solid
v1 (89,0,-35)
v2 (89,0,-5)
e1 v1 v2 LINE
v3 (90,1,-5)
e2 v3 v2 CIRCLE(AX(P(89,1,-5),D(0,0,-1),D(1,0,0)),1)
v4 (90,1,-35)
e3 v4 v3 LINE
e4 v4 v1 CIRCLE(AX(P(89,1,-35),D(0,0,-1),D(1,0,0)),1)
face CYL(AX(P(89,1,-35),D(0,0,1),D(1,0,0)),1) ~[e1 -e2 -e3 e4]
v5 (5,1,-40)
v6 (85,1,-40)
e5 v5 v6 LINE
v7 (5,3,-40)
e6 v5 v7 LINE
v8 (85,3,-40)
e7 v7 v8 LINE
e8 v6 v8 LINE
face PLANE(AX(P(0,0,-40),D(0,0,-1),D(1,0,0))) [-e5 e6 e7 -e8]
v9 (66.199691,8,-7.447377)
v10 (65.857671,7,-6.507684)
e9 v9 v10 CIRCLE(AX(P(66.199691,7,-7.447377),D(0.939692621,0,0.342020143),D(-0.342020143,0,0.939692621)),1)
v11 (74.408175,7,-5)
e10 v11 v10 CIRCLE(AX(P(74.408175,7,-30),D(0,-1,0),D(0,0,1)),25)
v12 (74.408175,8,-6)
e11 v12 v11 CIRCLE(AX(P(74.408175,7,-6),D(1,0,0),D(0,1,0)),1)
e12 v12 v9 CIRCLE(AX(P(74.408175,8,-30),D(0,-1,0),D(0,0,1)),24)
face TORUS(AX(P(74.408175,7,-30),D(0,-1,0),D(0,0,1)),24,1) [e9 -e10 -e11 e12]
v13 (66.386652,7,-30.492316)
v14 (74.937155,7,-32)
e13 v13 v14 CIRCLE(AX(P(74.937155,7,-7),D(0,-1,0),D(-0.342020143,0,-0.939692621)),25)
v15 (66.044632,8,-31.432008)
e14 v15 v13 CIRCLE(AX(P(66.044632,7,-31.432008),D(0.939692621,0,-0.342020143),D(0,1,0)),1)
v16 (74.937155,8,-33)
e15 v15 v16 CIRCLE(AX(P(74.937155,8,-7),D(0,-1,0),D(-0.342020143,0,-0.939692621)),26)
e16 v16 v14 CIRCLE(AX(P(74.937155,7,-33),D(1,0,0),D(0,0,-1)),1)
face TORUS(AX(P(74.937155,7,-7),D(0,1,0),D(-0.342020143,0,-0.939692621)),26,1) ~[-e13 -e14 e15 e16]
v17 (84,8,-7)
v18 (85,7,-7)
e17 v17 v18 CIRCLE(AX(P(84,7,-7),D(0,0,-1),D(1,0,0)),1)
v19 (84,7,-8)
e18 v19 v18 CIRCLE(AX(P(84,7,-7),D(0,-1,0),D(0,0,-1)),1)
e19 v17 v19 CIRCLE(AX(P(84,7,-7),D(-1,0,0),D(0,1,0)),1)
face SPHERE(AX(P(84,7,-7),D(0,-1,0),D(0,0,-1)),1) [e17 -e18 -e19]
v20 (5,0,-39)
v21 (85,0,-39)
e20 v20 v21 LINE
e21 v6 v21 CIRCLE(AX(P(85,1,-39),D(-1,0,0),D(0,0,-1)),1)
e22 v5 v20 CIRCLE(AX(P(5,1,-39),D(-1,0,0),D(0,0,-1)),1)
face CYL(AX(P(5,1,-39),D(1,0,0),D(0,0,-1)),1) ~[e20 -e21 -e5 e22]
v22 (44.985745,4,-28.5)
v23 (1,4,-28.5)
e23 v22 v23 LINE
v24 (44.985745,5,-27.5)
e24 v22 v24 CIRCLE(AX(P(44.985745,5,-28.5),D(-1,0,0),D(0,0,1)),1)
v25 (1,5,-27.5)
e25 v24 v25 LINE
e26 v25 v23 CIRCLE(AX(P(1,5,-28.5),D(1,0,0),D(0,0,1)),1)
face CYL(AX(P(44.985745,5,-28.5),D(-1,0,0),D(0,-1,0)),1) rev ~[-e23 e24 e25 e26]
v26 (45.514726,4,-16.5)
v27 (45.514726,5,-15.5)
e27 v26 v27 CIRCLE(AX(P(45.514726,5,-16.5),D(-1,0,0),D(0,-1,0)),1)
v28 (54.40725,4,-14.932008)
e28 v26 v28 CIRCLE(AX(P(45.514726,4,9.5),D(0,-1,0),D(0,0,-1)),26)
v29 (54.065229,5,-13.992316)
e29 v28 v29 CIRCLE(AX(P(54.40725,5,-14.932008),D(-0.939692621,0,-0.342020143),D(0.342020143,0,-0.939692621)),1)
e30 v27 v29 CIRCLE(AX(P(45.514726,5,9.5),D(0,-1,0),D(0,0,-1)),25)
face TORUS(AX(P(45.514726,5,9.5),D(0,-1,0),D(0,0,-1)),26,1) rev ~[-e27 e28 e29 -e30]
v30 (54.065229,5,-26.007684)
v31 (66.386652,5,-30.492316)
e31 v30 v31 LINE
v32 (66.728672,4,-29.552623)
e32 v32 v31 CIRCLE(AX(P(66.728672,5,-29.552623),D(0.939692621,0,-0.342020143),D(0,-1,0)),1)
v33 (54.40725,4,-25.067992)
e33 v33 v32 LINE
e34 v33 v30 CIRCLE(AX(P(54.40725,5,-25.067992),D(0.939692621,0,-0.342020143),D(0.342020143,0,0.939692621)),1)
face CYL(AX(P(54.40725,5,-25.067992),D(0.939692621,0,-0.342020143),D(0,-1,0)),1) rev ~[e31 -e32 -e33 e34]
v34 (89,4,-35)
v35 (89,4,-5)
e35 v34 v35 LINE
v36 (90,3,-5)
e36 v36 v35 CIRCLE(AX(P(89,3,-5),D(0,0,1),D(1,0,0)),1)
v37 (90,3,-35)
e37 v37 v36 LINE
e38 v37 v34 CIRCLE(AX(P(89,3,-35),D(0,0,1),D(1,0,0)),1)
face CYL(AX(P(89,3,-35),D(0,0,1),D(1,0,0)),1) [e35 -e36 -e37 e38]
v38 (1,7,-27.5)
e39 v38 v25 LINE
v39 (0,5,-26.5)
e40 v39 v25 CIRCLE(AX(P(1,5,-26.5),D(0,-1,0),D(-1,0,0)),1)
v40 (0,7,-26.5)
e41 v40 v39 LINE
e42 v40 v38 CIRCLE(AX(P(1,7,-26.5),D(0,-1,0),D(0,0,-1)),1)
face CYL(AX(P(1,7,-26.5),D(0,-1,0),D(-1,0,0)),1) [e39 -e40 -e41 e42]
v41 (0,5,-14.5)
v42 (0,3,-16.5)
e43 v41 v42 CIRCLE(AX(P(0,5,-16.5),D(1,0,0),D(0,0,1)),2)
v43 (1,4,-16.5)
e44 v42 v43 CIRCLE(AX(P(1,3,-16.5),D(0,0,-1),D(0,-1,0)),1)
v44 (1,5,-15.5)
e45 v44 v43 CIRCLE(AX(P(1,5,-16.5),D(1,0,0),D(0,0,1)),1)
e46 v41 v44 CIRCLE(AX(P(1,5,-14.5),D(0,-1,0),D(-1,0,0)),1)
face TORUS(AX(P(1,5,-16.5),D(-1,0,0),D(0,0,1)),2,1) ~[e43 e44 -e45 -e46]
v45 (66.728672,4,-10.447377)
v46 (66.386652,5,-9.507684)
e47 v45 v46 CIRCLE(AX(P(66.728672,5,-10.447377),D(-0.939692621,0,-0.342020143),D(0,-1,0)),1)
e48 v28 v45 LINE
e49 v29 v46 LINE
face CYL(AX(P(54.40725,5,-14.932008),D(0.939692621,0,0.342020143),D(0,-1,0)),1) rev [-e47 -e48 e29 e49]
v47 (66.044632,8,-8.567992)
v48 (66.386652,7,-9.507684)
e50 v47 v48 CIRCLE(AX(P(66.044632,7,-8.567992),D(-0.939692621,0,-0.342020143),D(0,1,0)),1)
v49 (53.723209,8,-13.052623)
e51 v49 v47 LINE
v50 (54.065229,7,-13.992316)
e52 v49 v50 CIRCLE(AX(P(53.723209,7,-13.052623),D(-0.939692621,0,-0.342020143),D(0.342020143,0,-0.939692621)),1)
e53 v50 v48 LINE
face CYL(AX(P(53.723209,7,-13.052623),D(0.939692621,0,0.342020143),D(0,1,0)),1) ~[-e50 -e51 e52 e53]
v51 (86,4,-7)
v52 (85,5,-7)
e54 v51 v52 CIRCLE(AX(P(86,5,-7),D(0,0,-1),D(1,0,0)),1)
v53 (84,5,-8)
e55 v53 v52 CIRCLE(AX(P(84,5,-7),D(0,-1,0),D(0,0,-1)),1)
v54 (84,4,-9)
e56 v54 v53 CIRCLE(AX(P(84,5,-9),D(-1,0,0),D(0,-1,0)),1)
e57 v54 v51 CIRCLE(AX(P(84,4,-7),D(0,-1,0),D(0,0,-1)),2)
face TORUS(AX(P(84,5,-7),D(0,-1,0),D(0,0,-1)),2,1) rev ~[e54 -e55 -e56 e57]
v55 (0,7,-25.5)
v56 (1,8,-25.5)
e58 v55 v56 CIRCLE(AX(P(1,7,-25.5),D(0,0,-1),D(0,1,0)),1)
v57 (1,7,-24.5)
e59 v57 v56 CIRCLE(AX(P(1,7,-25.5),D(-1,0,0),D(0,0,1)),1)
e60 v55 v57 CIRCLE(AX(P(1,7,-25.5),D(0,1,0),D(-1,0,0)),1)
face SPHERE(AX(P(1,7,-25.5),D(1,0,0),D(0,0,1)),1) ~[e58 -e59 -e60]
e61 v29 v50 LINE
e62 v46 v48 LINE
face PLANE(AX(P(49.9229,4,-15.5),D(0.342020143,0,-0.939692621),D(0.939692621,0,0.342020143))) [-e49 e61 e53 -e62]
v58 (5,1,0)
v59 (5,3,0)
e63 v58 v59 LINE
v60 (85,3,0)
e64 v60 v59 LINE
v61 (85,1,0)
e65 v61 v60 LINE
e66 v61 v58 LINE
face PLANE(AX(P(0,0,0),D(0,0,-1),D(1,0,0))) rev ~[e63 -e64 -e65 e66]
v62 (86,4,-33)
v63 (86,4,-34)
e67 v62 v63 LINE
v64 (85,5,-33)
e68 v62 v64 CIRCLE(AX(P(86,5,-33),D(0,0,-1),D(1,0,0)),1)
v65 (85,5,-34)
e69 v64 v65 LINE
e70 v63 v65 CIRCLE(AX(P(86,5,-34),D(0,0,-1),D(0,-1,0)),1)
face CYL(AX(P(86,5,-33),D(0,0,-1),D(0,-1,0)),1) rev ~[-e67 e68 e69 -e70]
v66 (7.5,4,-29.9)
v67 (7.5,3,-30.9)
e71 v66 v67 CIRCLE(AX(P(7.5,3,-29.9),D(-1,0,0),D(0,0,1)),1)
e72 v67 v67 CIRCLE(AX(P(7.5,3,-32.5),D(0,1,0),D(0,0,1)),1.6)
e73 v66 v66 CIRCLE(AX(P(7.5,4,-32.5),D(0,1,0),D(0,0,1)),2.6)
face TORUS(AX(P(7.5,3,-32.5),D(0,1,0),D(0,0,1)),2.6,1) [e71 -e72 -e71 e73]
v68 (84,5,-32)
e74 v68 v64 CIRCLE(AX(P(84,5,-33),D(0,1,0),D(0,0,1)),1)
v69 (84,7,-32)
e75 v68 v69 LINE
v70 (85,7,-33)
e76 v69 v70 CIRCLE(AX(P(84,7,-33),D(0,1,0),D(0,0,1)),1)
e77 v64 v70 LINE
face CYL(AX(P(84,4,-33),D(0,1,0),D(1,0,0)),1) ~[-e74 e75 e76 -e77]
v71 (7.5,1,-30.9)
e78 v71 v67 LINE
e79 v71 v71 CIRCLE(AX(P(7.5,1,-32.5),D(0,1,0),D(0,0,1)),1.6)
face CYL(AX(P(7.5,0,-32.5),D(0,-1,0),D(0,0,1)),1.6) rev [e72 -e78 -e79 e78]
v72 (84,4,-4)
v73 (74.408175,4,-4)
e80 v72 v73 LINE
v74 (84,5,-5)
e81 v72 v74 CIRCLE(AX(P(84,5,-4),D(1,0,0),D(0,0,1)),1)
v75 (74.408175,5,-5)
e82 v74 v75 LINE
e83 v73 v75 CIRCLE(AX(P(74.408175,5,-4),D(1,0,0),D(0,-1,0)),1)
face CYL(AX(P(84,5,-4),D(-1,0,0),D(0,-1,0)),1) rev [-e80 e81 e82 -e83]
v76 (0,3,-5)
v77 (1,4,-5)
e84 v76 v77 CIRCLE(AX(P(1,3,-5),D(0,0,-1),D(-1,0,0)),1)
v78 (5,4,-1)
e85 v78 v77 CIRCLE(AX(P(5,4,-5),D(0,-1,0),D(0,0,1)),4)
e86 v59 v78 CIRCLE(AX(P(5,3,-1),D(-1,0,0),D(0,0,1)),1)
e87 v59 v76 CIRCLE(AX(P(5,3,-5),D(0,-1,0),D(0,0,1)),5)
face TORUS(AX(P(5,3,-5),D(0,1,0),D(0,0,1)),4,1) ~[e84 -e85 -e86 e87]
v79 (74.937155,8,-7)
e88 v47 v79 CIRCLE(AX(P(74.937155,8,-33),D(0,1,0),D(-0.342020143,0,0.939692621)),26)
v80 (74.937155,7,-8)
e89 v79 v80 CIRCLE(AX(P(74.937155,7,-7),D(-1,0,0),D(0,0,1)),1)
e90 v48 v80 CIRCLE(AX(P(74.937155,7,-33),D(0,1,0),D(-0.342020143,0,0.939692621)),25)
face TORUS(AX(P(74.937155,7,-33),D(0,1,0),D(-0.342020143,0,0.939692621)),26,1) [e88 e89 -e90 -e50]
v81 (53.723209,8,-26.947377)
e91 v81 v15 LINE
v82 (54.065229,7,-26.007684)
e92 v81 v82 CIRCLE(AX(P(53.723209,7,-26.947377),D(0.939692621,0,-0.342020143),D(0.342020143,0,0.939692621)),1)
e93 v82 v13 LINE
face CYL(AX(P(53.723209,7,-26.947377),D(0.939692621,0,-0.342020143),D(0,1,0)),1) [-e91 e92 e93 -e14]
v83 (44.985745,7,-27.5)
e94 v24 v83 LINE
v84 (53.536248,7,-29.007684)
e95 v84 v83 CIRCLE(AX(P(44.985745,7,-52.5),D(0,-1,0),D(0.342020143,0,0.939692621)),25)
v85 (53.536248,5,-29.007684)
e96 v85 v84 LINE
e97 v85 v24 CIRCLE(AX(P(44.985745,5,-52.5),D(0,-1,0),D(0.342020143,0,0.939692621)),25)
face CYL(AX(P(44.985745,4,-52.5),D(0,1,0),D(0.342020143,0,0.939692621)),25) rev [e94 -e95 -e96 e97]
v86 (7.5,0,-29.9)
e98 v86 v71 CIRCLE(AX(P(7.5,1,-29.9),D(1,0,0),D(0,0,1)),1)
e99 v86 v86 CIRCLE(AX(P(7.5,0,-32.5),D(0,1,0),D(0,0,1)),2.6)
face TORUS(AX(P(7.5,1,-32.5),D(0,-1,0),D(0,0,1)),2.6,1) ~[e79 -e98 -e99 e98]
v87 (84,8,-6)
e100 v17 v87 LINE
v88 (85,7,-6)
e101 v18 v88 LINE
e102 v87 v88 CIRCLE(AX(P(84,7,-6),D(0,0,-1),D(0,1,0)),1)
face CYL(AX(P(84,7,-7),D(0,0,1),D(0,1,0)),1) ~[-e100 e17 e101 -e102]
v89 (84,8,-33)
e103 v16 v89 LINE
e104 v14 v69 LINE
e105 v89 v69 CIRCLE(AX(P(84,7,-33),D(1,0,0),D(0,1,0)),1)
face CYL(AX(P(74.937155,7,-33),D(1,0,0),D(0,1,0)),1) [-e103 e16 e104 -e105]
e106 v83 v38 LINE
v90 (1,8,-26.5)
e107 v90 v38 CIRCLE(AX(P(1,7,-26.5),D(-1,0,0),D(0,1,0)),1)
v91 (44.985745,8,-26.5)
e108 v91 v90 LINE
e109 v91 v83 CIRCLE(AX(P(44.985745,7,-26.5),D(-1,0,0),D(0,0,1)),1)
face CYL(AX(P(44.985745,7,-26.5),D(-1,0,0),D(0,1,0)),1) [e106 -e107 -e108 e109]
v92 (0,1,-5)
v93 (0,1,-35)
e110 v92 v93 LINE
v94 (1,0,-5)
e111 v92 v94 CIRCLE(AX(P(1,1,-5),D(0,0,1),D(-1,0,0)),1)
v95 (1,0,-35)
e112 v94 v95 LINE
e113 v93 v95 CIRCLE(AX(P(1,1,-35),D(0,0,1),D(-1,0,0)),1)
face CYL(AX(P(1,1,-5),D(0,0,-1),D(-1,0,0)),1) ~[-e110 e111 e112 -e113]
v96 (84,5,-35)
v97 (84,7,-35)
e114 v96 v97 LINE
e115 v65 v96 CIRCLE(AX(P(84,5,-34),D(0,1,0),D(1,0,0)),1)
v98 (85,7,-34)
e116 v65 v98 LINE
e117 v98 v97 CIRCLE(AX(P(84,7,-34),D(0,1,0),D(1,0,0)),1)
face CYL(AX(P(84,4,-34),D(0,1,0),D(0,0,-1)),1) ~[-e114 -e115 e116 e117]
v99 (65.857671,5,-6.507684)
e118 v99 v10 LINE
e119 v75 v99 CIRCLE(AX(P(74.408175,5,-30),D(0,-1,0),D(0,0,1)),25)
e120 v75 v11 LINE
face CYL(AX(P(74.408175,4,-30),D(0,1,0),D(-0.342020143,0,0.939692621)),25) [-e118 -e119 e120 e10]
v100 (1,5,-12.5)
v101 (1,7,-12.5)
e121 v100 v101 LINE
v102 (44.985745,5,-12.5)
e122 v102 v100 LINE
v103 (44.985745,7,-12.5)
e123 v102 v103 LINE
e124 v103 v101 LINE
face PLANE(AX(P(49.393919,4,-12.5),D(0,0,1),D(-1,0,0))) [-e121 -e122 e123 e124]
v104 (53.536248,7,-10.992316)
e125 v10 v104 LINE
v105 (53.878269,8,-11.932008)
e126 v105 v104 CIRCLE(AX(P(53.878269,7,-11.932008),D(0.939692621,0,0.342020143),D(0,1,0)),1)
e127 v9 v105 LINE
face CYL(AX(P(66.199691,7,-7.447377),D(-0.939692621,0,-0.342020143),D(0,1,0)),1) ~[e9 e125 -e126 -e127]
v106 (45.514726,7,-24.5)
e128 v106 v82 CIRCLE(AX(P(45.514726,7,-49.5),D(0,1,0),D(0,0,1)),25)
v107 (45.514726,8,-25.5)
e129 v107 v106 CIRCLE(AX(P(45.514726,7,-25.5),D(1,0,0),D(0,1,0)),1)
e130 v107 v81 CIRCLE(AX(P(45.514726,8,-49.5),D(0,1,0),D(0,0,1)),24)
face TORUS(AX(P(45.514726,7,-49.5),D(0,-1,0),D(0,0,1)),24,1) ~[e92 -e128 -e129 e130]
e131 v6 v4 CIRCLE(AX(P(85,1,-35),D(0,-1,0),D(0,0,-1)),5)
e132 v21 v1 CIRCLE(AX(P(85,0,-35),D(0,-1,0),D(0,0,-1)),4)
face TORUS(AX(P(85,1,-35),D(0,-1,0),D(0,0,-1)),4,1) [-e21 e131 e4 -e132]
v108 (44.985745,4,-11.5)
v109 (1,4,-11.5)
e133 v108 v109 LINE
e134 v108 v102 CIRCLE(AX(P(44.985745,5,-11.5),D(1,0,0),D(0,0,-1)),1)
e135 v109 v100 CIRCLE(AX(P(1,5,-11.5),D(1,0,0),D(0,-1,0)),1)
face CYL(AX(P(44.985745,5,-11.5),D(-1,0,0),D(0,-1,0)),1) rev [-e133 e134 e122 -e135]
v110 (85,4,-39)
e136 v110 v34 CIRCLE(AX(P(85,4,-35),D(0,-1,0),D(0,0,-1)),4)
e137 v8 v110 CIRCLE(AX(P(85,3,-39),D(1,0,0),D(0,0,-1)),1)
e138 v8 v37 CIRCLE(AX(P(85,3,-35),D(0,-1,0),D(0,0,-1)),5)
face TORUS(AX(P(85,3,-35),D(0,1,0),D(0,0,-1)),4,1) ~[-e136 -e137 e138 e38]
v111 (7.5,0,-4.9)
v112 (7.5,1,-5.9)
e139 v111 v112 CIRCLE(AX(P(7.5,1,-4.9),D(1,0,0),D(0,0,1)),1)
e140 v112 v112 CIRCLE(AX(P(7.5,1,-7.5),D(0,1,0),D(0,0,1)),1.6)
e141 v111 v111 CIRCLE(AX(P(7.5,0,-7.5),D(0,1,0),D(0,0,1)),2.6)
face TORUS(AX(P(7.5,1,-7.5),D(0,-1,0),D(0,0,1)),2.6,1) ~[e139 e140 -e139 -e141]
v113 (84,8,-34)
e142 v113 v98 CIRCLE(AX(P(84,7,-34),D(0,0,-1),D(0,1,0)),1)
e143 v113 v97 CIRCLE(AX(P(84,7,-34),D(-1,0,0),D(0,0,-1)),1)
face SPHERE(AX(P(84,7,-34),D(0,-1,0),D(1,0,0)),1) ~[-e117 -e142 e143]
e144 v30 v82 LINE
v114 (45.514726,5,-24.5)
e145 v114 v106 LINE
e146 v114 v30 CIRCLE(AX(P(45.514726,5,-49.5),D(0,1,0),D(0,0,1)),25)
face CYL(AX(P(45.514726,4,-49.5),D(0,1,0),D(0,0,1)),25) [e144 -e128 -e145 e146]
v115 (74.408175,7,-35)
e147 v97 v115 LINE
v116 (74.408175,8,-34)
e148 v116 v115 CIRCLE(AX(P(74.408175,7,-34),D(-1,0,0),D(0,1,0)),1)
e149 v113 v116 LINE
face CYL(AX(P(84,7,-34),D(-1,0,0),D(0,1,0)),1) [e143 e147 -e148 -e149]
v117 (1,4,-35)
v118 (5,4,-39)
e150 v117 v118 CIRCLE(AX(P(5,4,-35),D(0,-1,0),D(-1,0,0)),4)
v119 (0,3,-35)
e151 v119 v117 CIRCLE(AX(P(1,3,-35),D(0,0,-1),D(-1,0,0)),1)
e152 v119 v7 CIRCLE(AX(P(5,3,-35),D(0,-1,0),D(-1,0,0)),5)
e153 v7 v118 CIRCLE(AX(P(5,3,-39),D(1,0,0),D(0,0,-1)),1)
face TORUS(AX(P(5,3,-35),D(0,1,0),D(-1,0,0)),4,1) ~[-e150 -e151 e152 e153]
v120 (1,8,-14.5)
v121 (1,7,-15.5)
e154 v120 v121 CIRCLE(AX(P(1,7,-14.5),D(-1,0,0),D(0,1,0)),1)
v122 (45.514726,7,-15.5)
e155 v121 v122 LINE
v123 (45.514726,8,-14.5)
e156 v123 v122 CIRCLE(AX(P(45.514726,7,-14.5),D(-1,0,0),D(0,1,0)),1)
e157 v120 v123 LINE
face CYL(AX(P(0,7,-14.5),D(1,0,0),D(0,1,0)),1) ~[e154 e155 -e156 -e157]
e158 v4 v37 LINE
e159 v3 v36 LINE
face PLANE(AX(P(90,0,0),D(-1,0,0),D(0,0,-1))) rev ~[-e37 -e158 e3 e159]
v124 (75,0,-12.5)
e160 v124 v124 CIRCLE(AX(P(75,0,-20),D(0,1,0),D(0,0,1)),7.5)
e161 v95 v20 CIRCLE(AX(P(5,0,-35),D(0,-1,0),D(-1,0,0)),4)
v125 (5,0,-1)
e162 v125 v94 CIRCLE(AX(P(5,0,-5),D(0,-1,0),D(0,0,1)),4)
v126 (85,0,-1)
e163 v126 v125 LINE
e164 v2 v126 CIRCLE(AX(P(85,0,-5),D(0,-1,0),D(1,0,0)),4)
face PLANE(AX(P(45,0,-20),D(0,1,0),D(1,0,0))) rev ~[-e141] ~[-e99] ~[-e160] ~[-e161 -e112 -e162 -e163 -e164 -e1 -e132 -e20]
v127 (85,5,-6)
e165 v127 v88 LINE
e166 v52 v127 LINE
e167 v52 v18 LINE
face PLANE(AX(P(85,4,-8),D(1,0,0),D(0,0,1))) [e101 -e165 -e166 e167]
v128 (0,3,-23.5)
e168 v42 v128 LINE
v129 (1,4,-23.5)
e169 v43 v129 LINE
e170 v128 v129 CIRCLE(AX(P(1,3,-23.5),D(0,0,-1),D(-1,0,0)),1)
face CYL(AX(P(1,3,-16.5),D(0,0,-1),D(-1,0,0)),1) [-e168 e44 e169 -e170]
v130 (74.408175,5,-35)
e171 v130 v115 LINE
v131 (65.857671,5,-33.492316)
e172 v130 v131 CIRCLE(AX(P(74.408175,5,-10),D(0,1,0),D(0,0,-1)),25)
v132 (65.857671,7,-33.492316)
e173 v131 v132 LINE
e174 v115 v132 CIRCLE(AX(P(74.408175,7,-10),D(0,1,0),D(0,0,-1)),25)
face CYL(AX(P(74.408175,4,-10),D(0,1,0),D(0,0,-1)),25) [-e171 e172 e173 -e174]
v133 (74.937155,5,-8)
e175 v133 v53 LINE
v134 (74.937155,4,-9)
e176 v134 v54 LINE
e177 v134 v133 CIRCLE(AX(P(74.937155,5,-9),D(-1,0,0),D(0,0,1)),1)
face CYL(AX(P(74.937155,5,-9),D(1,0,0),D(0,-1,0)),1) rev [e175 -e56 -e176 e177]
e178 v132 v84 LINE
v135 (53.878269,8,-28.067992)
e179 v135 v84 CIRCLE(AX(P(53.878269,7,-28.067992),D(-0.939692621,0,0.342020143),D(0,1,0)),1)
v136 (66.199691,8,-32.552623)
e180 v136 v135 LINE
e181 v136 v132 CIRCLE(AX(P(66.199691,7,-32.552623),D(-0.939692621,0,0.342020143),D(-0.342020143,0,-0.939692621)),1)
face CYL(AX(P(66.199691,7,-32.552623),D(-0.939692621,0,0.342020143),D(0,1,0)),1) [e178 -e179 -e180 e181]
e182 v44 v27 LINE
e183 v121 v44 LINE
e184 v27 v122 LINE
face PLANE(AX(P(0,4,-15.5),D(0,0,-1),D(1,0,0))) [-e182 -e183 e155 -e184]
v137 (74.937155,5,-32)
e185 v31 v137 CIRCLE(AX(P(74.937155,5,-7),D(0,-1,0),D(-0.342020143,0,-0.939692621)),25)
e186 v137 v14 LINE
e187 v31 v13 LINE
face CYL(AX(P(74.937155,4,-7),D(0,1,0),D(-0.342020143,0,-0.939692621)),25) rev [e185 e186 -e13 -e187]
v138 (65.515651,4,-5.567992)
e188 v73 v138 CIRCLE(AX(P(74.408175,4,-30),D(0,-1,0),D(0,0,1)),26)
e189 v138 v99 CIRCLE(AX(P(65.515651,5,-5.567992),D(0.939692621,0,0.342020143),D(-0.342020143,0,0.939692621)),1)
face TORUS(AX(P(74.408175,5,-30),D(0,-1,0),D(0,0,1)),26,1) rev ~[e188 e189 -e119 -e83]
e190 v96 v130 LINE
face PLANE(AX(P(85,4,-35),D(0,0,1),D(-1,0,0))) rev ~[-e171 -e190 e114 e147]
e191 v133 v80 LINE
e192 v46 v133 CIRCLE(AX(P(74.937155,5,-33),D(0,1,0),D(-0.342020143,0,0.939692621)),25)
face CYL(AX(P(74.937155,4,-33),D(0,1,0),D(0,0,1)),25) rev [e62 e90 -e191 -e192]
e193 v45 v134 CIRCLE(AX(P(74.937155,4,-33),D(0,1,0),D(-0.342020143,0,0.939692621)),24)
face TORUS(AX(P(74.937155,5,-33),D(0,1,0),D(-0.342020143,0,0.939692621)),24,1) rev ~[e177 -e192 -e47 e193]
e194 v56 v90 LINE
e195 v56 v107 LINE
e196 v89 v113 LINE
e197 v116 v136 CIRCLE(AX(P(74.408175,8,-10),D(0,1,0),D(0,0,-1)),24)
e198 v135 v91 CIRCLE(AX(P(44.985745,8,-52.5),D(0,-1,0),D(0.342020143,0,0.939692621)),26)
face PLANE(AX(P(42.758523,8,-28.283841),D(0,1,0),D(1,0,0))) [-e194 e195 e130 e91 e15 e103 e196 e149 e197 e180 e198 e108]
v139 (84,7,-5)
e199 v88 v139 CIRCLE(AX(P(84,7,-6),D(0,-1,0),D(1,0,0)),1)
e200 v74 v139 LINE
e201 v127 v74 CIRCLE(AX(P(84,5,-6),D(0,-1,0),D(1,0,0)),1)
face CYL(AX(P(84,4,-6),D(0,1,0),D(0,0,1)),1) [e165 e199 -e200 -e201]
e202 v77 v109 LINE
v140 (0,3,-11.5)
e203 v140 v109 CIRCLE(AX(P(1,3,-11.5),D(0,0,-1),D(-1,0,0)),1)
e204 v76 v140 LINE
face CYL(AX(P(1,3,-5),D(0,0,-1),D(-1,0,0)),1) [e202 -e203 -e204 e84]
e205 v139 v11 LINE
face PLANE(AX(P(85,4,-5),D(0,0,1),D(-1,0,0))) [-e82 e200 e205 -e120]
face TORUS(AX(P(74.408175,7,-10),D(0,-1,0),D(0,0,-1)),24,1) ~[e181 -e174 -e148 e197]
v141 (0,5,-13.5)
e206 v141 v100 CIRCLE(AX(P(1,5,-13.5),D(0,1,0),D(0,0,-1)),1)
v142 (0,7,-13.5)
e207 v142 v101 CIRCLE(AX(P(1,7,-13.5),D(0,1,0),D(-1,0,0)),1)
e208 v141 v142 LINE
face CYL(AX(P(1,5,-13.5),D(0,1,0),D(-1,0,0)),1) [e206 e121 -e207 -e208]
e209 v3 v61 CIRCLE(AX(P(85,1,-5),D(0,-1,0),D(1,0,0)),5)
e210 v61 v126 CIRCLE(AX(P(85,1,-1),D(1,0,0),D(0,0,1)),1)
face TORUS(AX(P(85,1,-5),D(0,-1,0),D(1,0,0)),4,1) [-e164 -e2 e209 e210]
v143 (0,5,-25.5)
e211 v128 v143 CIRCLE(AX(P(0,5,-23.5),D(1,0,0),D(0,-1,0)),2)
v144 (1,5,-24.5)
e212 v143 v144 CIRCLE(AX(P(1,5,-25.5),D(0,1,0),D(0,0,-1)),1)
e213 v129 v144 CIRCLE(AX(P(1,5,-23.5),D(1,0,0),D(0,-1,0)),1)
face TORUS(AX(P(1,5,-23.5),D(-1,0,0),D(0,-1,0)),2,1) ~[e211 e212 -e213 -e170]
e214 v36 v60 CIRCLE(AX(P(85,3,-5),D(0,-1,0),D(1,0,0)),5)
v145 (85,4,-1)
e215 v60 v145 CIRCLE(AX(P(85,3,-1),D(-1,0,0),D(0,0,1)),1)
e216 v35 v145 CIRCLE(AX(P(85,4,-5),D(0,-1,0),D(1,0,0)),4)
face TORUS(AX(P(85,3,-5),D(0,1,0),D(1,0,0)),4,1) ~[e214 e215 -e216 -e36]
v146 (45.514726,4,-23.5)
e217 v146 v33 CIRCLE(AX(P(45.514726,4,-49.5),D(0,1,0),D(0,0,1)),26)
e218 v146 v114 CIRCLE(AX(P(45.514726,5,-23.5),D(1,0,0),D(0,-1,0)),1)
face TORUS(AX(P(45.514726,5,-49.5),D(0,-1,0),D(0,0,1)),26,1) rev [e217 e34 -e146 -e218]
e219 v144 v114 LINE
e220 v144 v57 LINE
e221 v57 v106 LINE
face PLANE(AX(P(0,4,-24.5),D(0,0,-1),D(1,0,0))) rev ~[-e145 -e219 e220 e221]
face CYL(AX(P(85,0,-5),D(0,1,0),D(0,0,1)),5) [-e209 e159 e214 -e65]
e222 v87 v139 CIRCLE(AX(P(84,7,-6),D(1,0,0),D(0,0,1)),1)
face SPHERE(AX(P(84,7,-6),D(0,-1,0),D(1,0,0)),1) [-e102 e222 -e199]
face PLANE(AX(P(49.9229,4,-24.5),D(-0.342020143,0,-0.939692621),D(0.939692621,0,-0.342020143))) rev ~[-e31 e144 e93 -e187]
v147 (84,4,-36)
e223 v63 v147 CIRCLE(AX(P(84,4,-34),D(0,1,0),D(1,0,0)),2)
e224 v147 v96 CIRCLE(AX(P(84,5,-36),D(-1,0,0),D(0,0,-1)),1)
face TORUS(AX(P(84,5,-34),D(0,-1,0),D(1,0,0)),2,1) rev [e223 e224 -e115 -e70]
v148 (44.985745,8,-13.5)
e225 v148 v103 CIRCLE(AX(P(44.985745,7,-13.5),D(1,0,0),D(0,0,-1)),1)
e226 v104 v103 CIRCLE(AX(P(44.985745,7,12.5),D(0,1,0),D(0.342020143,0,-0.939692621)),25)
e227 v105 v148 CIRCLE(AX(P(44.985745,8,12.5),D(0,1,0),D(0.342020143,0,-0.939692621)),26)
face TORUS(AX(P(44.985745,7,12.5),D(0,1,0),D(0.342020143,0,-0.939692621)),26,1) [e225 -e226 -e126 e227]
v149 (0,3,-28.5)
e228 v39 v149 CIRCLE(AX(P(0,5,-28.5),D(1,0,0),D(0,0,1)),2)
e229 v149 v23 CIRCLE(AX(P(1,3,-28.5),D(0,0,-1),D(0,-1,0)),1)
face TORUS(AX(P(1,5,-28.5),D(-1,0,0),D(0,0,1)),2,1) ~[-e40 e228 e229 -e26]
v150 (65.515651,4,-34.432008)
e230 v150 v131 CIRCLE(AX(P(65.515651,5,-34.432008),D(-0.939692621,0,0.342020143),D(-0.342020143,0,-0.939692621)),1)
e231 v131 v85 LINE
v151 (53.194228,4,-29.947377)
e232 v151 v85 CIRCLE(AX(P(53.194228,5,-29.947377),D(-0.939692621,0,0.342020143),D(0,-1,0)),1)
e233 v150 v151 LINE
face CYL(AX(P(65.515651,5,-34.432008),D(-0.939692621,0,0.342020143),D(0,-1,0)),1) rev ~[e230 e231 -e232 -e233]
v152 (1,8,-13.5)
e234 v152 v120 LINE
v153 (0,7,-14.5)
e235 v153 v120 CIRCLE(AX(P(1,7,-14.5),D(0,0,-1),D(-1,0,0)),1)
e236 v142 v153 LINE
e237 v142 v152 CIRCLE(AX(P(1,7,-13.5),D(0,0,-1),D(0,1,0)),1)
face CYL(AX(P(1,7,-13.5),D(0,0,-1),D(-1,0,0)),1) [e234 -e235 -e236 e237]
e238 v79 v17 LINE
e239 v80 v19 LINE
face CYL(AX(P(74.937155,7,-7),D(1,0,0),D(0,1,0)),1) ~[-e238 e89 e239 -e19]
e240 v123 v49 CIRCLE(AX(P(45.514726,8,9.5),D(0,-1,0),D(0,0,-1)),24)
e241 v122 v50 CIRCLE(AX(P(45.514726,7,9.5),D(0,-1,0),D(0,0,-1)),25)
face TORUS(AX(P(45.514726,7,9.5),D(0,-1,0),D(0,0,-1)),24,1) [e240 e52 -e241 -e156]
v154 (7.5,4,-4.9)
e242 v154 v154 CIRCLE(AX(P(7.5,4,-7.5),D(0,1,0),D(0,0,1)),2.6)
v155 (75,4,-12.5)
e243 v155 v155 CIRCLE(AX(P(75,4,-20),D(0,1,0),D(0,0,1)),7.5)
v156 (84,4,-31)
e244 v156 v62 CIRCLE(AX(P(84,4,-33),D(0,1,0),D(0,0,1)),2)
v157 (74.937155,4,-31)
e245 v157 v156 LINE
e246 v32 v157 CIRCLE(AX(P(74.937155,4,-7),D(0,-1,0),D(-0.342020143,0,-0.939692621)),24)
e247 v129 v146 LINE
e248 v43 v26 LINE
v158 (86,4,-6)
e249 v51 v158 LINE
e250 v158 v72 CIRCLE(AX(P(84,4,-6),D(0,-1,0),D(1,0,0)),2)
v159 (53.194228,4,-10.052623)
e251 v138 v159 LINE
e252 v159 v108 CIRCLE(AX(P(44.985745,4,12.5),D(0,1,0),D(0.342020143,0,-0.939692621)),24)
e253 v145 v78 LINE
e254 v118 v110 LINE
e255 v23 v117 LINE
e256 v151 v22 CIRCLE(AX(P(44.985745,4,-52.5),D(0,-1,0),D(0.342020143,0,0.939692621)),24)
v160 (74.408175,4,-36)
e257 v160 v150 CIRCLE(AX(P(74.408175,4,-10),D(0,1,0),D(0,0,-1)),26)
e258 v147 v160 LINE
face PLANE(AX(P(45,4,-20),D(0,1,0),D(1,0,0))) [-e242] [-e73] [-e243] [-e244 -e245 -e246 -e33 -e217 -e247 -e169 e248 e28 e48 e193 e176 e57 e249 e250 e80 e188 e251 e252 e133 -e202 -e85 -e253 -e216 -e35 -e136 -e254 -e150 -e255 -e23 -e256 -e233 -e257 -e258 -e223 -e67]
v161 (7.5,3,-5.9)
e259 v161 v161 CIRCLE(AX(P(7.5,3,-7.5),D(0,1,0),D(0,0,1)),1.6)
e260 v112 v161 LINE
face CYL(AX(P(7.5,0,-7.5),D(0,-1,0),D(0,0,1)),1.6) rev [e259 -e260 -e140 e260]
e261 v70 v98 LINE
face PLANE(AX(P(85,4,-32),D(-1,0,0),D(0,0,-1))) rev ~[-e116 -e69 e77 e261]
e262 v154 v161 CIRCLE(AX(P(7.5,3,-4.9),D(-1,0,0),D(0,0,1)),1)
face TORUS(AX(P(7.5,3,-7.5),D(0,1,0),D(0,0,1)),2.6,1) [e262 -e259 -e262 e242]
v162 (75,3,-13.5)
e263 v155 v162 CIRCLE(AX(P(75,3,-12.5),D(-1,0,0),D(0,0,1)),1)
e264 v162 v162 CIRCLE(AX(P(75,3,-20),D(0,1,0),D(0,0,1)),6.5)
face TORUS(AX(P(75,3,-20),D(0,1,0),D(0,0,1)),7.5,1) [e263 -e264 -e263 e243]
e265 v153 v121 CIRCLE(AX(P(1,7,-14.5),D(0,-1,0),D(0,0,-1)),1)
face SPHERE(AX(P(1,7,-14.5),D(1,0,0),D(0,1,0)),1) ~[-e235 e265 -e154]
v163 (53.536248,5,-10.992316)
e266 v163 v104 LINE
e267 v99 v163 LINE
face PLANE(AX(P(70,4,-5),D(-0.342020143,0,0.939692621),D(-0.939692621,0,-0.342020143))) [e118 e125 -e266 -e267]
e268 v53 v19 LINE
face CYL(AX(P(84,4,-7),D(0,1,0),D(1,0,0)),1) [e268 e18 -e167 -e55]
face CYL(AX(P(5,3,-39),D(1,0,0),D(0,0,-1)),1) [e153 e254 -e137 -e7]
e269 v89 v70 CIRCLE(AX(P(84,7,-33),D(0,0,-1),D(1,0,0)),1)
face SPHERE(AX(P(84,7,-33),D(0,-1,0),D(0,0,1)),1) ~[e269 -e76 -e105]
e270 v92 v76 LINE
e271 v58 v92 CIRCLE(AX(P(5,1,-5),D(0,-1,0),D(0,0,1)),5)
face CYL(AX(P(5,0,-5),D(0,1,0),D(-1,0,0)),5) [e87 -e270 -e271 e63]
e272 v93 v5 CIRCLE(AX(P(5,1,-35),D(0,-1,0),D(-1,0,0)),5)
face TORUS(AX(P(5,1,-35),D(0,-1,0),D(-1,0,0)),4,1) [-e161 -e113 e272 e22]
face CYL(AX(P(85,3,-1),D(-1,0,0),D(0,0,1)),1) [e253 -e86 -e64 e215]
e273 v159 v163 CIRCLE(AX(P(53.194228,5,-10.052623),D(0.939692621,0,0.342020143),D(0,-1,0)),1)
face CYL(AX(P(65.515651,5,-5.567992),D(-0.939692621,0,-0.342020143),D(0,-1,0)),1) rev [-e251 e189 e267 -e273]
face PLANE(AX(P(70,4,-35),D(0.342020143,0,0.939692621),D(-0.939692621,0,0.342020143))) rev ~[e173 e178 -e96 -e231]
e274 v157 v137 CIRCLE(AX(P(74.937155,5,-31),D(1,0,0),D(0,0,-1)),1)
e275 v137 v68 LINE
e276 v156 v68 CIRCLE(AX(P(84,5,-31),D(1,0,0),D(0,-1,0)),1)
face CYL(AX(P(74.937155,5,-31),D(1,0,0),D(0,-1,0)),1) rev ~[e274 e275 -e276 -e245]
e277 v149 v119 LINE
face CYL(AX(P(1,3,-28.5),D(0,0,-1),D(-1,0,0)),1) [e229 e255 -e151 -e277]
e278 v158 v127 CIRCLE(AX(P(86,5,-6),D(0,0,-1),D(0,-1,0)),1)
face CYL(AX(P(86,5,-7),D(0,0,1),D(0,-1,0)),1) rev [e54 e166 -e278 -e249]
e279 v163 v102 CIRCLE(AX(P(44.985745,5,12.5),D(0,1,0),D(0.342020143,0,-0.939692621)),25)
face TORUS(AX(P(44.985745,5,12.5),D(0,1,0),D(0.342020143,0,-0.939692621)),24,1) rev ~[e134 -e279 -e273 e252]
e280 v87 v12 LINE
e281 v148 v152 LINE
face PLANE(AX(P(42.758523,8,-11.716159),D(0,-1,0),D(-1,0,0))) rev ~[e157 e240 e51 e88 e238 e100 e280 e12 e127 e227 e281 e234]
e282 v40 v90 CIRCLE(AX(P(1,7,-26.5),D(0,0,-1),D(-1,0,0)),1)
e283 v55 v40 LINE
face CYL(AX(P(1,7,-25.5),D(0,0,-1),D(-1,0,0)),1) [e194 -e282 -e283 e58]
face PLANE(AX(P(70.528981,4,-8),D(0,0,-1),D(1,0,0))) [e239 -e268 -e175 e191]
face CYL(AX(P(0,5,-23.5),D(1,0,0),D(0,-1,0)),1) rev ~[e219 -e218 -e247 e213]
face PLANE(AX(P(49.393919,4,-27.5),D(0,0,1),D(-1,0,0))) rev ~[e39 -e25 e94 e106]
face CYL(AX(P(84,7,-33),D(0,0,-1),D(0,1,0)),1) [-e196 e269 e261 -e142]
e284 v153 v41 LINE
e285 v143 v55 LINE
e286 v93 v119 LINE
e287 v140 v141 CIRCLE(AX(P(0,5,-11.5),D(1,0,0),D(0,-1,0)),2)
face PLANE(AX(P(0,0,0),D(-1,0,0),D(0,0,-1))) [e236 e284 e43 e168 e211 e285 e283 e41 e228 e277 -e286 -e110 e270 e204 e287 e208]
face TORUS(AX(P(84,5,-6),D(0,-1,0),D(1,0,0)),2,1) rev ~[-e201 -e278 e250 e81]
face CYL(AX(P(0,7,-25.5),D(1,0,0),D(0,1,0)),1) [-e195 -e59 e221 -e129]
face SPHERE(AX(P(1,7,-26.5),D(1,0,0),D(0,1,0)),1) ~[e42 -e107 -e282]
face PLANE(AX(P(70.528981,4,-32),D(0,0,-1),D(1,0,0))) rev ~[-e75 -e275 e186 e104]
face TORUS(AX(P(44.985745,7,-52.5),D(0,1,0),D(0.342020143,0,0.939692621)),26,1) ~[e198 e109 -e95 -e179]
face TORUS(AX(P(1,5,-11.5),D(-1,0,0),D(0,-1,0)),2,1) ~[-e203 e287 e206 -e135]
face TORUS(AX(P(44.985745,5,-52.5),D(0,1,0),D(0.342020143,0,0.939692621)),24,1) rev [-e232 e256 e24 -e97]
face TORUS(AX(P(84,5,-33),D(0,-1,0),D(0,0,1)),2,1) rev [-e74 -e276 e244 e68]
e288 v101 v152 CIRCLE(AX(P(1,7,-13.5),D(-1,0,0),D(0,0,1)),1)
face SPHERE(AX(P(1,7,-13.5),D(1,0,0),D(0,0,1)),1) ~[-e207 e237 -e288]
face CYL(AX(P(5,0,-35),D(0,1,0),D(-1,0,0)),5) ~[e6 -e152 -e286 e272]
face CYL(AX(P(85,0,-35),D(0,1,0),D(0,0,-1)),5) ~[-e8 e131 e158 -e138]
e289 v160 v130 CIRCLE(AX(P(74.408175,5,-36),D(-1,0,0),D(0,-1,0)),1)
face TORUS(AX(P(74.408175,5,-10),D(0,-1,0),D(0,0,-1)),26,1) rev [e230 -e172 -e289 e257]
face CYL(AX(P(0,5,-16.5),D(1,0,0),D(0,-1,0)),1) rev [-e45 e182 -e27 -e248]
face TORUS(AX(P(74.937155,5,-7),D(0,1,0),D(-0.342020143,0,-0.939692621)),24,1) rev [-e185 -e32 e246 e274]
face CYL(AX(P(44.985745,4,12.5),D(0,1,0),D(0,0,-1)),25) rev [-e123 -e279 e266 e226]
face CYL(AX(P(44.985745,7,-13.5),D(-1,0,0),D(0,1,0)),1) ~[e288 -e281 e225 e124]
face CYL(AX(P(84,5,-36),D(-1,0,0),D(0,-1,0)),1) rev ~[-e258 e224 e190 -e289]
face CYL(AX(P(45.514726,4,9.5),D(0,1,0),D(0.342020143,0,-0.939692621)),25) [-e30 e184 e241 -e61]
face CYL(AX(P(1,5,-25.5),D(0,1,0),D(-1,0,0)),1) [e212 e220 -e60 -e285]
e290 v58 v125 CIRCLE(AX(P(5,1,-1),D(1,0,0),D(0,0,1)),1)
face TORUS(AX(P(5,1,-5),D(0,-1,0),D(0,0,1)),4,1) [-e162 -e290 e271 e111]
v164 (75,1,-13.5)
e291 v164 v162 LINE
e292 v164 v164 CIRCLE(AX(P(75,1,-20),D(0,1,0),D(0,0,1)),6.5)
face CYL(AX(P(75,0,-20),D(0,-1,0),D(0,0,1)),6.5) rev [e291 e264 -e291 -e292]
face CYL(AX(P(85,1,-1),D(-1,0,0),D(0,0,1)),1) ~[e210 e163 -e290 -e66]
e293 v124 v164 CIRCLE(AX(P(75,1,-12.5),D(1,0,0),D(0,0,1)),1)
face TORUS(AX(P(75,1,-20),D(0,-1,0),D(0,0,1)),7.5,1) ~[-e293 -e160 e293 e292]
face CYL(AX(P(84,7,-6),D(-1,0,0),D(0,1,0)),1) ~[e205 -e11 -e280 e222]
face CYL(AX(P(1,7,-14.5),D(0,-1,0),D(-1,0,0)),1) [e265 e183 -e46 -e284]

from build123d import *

# Parameters (mm, degrees)
SKETCH1_W           = 90
SKETCH1_H           = 40
SKETCH1_R           = 6.5
SKETCH1_R_2         = 1.6
BOSS_EXTRUDE1_DEPTH = 4
FILLET1_R           = 5
FILLET2_R           = 5
BOSS_EXTRUDE2_DEPTH = 4
FILLET3_R           = 25
FILLET4_R           = 1
FILLET5_R           = 1
FILLET6_R           = 1
FILLET7_R           = 1
FILLET8_R           = 1
FILLET9_R           = 1


with BuildPart() as part:
    # Sketch1 → Boss-Extrude1 (new body)
    with BuildSketch(Plane(origin=(0, 0, 0), x_dir=(1, 0, 0), z_dir=(0, 1, 0))):
        with Locations((45, 20)):
            Rectangle(SKETCH1_W, SKETCH1_H)
        with Locations(Location((75, 20, 0), (0, 0, 270))):
            Circle(SKETCH1_R, mode=Mode.SUBTRACT)
        with Locations(Location((7.5, 32.5, 0), (0, 0, 270))):
            Circle(SKETCH1_R_2, mode=Mode.SUBTRACT)
        with Locations(Location((7.5, 7.5, 0), (0, 0, 270))):
            Circle(SKETCH1_R_2, mode=Mode.SUBTRACT)
    extrude(amount=BOSS_EXTRUDE1_DEPTH)

    # Fillet1
    fillet1_edges = [part.edges().sort_by_distance(p)[0] for p in [
        (0, 2, -40),
        (0, 2, 0),
    ]]
    fillet(fillet1_edges, radius=FILLET1_R)

    # Fillet2
    fillet2_edges = [part.edges().sort_by_distance(p)[0] for p in [
        (90, 2, -40),
        (90, 2, 0),
    ]]
    fillet(fillet2_edges, radius=FILLET2_R)

    # Sketch2 → Boss-Extrude2 (add)
    with BuildSketch(Plane(origin=(0, 4, 0), x_dir=(1, 0, 0), z_dir=(0, 1, 0))):
        Polygon((0, 27.5), (0, 24.5), (49.922900296, 24.5), (70.528980942, 32), (85, 32), (85, 35), (70, 35), (49.393919354, 27.5), align=None)
        Polygon((0, 15.5), (49.922900296, 15.5), (70.528980942, 8), (85, 8), (85, 5), (70, 5), (49.393919354, 12.5), (0, 12.5), align=None)
    extrude(amount=BOSS_EXTRUDE2_DEPTH)

    # Fillet3
    fillet3_edges = [part.edges().sort_by_distance(p)[0] for p in [
        (49.393919354, 6, -27.5),
        (49.922900296, 6, -24.5),
        (70.528980942, 6, -32),
        (70, 6, -35),
        (49.393919354, 6, -12.5),
        (70, 6, -5),
        (70.528980942, 6, -8),
        (49.922900296, 6, -15.5),
    ]]
    fillet(fillet3_edges, radius=FILLET3_R)

    # Fillet4
    fillet4_edges = [part.edges().sort_by_distance(p)[0] for p in [
        (85, 6, -32),
        (85, 6, -35),
        (85, 6, -5),
        (85, 6, -8),
    ]]
    fillet(fillet4_edges, radius=FILLET4_R)

    # Fillet5
    fillet5_edges = [part.edges().sort_by_distance(p)[0] for p in [
        (22.757362889, 4, -15.5),
        (79.204087259, 4, -5),
        (59.696959677, 4, -8.75),
        (49.326949278, 4, -12.120193825),
        (70.595951018, 4, -31.620193825),
        (49.326949278, 4, -27.879806175),
        (70.595951018, 4, -8.379806175),
        (70.066970076, 4, -34.620193825),
        (49.85593022, 4, -15.120193825),
        (49.85593022, 4, -24.879806175),
        (70.066970076, 4, -5.379806175),
        (79.46857773, 4, -8),
        (85, 4, -6.5),
        (79.204087259, 4, -35),
        (85, 4, -33.5),
        (84.707106781, 4, -7.707106781),
        (84.707106781, 4, -5.292893219),
        (84.707106781, 4, -34.707106781),
        (84.707106781, 4, -32.292893219),
        (22.757362889, 4, -24.5),
        (22.492872418, 4, -12.5),
        (60.225940619, 4, -11.75),
        (22.492872418, 4, -27.5),
        (59.696959677, 4, -31.25),
        (79.46857773, 4, -32),
        (60.225940619, 4, -28.25),
    ]]
    fillet(fillet5_edges, radius=FILLET5_R)

    # Fillet6
    fillet6_edges = [part.edges().sort_by_distance(p)[0] for p in [
        (59.696959677, 8, -31.25),
        (22.492872418, 8, -27.5),
        (60.225940619, 8, -28.25),
        (79.46857773, 8, -32),
        (49.85593022, 8, -24.879806175),
        (70.066970076, 8, -34.620193825),
        (22.757362889, 8, -15.5),
        (59.696959677, 8, -8.75),
        (79.204087259, 8, -5),
        (70.066970076, 8, -5.379806175),
        (49.85593022, 8, -15.120193825),
        (70.595951018, 8, -8.379806175),
        (49.326949278, 8, -27.879806175),
        (70.595951018, 8, -31.620193825),
        (49.326949278, 8, -12.120193825),
        (79.46857773, 8, -8),
        (85, 8, -6.5),
        (84.707106781, 8, -5.292893219),
        (84.707106781, 8, -7.707106781),
        (79.204087259, 8, -35),
        (85, 8, -33.5),
        (84.707106781, 8, -32.292893219),
        (84.707106781, 8, -34.707106781),
        (22.757362889, 8, -24.5),
        (22.492872418, 8, -12.5),
        (60.225940619, 8, -11.75),
    ]]
    fillet(fillet6_edges, radius=FILLET6_R)

    # Fillet7
    fillet7_edges = [part.edges().sort_by_distance(p)[0] for p in [
        (0, 0, -20),
        (45, 0, 0),
        (1.464466094, 0, -1.464466094),
        (1.464466094, 0, -38.535533906),
        (90, 0, -20),
        (45, 0, -40),
        (88.535533906, 0, -38.535533906),
        (88.535533906, 0, -1.464466094),
    ]]
    fillet(fillet7_edges, radius=FILLET7_R)

    # Fillet8
    fillet8_edges = [part.edges().sort_by_distance(p)[0] for p in [
        (0, 4, -8.25),
        (0, 4, -20),
        (0, 4.292893219, -27.792893219),
        (0, 4.292893219, -15.792893219),
        (0, 4.292893219, -24.207106781),
        (0, 4.292893219, -12.207106781),
        (0, 8, -14),
        (0, 6, -12.5),
        (0, 6, -15.5),
        (0, 6, -24.5),
        (0, 8, -26),
        (0, 6, -27.5),
        (0, 7.707106781, -24.792893219),
        (0, 4, -31.75),
        (0, 7.707106781, -12.792893219),
        (0, 7.707106781, -27.207106781),
        (0, 7.707106781, -15.207106781),
        (45, 4, 0),
        (1.464466094, 4, -1.464466094),
        (1.464466094, 4, -38.535533906),
        (90, 4, -20),
        (45, 4, -40),
        (88.535533906, 4, -38.535533906),
        (88.535533906, 4, -1.464466094),
    ]]
    fillet(fillet8_edges, radius=FILLET8_R)

    # Fillet9
    fillet9_edges = [part.edges().sort_by_distance(p)[0] for p in [
        (75, 0, -26.5),
        (75, 4, -26.5),
        (7.5, 0, -34.1),
        (7.5, 4, -34.1),
        (7.5, 0, -9.1),
        (7.5, 4, -9.1),
    ]]
    fillet(fillet9_edges, radius=FILLET9_R)


solid = part.part
